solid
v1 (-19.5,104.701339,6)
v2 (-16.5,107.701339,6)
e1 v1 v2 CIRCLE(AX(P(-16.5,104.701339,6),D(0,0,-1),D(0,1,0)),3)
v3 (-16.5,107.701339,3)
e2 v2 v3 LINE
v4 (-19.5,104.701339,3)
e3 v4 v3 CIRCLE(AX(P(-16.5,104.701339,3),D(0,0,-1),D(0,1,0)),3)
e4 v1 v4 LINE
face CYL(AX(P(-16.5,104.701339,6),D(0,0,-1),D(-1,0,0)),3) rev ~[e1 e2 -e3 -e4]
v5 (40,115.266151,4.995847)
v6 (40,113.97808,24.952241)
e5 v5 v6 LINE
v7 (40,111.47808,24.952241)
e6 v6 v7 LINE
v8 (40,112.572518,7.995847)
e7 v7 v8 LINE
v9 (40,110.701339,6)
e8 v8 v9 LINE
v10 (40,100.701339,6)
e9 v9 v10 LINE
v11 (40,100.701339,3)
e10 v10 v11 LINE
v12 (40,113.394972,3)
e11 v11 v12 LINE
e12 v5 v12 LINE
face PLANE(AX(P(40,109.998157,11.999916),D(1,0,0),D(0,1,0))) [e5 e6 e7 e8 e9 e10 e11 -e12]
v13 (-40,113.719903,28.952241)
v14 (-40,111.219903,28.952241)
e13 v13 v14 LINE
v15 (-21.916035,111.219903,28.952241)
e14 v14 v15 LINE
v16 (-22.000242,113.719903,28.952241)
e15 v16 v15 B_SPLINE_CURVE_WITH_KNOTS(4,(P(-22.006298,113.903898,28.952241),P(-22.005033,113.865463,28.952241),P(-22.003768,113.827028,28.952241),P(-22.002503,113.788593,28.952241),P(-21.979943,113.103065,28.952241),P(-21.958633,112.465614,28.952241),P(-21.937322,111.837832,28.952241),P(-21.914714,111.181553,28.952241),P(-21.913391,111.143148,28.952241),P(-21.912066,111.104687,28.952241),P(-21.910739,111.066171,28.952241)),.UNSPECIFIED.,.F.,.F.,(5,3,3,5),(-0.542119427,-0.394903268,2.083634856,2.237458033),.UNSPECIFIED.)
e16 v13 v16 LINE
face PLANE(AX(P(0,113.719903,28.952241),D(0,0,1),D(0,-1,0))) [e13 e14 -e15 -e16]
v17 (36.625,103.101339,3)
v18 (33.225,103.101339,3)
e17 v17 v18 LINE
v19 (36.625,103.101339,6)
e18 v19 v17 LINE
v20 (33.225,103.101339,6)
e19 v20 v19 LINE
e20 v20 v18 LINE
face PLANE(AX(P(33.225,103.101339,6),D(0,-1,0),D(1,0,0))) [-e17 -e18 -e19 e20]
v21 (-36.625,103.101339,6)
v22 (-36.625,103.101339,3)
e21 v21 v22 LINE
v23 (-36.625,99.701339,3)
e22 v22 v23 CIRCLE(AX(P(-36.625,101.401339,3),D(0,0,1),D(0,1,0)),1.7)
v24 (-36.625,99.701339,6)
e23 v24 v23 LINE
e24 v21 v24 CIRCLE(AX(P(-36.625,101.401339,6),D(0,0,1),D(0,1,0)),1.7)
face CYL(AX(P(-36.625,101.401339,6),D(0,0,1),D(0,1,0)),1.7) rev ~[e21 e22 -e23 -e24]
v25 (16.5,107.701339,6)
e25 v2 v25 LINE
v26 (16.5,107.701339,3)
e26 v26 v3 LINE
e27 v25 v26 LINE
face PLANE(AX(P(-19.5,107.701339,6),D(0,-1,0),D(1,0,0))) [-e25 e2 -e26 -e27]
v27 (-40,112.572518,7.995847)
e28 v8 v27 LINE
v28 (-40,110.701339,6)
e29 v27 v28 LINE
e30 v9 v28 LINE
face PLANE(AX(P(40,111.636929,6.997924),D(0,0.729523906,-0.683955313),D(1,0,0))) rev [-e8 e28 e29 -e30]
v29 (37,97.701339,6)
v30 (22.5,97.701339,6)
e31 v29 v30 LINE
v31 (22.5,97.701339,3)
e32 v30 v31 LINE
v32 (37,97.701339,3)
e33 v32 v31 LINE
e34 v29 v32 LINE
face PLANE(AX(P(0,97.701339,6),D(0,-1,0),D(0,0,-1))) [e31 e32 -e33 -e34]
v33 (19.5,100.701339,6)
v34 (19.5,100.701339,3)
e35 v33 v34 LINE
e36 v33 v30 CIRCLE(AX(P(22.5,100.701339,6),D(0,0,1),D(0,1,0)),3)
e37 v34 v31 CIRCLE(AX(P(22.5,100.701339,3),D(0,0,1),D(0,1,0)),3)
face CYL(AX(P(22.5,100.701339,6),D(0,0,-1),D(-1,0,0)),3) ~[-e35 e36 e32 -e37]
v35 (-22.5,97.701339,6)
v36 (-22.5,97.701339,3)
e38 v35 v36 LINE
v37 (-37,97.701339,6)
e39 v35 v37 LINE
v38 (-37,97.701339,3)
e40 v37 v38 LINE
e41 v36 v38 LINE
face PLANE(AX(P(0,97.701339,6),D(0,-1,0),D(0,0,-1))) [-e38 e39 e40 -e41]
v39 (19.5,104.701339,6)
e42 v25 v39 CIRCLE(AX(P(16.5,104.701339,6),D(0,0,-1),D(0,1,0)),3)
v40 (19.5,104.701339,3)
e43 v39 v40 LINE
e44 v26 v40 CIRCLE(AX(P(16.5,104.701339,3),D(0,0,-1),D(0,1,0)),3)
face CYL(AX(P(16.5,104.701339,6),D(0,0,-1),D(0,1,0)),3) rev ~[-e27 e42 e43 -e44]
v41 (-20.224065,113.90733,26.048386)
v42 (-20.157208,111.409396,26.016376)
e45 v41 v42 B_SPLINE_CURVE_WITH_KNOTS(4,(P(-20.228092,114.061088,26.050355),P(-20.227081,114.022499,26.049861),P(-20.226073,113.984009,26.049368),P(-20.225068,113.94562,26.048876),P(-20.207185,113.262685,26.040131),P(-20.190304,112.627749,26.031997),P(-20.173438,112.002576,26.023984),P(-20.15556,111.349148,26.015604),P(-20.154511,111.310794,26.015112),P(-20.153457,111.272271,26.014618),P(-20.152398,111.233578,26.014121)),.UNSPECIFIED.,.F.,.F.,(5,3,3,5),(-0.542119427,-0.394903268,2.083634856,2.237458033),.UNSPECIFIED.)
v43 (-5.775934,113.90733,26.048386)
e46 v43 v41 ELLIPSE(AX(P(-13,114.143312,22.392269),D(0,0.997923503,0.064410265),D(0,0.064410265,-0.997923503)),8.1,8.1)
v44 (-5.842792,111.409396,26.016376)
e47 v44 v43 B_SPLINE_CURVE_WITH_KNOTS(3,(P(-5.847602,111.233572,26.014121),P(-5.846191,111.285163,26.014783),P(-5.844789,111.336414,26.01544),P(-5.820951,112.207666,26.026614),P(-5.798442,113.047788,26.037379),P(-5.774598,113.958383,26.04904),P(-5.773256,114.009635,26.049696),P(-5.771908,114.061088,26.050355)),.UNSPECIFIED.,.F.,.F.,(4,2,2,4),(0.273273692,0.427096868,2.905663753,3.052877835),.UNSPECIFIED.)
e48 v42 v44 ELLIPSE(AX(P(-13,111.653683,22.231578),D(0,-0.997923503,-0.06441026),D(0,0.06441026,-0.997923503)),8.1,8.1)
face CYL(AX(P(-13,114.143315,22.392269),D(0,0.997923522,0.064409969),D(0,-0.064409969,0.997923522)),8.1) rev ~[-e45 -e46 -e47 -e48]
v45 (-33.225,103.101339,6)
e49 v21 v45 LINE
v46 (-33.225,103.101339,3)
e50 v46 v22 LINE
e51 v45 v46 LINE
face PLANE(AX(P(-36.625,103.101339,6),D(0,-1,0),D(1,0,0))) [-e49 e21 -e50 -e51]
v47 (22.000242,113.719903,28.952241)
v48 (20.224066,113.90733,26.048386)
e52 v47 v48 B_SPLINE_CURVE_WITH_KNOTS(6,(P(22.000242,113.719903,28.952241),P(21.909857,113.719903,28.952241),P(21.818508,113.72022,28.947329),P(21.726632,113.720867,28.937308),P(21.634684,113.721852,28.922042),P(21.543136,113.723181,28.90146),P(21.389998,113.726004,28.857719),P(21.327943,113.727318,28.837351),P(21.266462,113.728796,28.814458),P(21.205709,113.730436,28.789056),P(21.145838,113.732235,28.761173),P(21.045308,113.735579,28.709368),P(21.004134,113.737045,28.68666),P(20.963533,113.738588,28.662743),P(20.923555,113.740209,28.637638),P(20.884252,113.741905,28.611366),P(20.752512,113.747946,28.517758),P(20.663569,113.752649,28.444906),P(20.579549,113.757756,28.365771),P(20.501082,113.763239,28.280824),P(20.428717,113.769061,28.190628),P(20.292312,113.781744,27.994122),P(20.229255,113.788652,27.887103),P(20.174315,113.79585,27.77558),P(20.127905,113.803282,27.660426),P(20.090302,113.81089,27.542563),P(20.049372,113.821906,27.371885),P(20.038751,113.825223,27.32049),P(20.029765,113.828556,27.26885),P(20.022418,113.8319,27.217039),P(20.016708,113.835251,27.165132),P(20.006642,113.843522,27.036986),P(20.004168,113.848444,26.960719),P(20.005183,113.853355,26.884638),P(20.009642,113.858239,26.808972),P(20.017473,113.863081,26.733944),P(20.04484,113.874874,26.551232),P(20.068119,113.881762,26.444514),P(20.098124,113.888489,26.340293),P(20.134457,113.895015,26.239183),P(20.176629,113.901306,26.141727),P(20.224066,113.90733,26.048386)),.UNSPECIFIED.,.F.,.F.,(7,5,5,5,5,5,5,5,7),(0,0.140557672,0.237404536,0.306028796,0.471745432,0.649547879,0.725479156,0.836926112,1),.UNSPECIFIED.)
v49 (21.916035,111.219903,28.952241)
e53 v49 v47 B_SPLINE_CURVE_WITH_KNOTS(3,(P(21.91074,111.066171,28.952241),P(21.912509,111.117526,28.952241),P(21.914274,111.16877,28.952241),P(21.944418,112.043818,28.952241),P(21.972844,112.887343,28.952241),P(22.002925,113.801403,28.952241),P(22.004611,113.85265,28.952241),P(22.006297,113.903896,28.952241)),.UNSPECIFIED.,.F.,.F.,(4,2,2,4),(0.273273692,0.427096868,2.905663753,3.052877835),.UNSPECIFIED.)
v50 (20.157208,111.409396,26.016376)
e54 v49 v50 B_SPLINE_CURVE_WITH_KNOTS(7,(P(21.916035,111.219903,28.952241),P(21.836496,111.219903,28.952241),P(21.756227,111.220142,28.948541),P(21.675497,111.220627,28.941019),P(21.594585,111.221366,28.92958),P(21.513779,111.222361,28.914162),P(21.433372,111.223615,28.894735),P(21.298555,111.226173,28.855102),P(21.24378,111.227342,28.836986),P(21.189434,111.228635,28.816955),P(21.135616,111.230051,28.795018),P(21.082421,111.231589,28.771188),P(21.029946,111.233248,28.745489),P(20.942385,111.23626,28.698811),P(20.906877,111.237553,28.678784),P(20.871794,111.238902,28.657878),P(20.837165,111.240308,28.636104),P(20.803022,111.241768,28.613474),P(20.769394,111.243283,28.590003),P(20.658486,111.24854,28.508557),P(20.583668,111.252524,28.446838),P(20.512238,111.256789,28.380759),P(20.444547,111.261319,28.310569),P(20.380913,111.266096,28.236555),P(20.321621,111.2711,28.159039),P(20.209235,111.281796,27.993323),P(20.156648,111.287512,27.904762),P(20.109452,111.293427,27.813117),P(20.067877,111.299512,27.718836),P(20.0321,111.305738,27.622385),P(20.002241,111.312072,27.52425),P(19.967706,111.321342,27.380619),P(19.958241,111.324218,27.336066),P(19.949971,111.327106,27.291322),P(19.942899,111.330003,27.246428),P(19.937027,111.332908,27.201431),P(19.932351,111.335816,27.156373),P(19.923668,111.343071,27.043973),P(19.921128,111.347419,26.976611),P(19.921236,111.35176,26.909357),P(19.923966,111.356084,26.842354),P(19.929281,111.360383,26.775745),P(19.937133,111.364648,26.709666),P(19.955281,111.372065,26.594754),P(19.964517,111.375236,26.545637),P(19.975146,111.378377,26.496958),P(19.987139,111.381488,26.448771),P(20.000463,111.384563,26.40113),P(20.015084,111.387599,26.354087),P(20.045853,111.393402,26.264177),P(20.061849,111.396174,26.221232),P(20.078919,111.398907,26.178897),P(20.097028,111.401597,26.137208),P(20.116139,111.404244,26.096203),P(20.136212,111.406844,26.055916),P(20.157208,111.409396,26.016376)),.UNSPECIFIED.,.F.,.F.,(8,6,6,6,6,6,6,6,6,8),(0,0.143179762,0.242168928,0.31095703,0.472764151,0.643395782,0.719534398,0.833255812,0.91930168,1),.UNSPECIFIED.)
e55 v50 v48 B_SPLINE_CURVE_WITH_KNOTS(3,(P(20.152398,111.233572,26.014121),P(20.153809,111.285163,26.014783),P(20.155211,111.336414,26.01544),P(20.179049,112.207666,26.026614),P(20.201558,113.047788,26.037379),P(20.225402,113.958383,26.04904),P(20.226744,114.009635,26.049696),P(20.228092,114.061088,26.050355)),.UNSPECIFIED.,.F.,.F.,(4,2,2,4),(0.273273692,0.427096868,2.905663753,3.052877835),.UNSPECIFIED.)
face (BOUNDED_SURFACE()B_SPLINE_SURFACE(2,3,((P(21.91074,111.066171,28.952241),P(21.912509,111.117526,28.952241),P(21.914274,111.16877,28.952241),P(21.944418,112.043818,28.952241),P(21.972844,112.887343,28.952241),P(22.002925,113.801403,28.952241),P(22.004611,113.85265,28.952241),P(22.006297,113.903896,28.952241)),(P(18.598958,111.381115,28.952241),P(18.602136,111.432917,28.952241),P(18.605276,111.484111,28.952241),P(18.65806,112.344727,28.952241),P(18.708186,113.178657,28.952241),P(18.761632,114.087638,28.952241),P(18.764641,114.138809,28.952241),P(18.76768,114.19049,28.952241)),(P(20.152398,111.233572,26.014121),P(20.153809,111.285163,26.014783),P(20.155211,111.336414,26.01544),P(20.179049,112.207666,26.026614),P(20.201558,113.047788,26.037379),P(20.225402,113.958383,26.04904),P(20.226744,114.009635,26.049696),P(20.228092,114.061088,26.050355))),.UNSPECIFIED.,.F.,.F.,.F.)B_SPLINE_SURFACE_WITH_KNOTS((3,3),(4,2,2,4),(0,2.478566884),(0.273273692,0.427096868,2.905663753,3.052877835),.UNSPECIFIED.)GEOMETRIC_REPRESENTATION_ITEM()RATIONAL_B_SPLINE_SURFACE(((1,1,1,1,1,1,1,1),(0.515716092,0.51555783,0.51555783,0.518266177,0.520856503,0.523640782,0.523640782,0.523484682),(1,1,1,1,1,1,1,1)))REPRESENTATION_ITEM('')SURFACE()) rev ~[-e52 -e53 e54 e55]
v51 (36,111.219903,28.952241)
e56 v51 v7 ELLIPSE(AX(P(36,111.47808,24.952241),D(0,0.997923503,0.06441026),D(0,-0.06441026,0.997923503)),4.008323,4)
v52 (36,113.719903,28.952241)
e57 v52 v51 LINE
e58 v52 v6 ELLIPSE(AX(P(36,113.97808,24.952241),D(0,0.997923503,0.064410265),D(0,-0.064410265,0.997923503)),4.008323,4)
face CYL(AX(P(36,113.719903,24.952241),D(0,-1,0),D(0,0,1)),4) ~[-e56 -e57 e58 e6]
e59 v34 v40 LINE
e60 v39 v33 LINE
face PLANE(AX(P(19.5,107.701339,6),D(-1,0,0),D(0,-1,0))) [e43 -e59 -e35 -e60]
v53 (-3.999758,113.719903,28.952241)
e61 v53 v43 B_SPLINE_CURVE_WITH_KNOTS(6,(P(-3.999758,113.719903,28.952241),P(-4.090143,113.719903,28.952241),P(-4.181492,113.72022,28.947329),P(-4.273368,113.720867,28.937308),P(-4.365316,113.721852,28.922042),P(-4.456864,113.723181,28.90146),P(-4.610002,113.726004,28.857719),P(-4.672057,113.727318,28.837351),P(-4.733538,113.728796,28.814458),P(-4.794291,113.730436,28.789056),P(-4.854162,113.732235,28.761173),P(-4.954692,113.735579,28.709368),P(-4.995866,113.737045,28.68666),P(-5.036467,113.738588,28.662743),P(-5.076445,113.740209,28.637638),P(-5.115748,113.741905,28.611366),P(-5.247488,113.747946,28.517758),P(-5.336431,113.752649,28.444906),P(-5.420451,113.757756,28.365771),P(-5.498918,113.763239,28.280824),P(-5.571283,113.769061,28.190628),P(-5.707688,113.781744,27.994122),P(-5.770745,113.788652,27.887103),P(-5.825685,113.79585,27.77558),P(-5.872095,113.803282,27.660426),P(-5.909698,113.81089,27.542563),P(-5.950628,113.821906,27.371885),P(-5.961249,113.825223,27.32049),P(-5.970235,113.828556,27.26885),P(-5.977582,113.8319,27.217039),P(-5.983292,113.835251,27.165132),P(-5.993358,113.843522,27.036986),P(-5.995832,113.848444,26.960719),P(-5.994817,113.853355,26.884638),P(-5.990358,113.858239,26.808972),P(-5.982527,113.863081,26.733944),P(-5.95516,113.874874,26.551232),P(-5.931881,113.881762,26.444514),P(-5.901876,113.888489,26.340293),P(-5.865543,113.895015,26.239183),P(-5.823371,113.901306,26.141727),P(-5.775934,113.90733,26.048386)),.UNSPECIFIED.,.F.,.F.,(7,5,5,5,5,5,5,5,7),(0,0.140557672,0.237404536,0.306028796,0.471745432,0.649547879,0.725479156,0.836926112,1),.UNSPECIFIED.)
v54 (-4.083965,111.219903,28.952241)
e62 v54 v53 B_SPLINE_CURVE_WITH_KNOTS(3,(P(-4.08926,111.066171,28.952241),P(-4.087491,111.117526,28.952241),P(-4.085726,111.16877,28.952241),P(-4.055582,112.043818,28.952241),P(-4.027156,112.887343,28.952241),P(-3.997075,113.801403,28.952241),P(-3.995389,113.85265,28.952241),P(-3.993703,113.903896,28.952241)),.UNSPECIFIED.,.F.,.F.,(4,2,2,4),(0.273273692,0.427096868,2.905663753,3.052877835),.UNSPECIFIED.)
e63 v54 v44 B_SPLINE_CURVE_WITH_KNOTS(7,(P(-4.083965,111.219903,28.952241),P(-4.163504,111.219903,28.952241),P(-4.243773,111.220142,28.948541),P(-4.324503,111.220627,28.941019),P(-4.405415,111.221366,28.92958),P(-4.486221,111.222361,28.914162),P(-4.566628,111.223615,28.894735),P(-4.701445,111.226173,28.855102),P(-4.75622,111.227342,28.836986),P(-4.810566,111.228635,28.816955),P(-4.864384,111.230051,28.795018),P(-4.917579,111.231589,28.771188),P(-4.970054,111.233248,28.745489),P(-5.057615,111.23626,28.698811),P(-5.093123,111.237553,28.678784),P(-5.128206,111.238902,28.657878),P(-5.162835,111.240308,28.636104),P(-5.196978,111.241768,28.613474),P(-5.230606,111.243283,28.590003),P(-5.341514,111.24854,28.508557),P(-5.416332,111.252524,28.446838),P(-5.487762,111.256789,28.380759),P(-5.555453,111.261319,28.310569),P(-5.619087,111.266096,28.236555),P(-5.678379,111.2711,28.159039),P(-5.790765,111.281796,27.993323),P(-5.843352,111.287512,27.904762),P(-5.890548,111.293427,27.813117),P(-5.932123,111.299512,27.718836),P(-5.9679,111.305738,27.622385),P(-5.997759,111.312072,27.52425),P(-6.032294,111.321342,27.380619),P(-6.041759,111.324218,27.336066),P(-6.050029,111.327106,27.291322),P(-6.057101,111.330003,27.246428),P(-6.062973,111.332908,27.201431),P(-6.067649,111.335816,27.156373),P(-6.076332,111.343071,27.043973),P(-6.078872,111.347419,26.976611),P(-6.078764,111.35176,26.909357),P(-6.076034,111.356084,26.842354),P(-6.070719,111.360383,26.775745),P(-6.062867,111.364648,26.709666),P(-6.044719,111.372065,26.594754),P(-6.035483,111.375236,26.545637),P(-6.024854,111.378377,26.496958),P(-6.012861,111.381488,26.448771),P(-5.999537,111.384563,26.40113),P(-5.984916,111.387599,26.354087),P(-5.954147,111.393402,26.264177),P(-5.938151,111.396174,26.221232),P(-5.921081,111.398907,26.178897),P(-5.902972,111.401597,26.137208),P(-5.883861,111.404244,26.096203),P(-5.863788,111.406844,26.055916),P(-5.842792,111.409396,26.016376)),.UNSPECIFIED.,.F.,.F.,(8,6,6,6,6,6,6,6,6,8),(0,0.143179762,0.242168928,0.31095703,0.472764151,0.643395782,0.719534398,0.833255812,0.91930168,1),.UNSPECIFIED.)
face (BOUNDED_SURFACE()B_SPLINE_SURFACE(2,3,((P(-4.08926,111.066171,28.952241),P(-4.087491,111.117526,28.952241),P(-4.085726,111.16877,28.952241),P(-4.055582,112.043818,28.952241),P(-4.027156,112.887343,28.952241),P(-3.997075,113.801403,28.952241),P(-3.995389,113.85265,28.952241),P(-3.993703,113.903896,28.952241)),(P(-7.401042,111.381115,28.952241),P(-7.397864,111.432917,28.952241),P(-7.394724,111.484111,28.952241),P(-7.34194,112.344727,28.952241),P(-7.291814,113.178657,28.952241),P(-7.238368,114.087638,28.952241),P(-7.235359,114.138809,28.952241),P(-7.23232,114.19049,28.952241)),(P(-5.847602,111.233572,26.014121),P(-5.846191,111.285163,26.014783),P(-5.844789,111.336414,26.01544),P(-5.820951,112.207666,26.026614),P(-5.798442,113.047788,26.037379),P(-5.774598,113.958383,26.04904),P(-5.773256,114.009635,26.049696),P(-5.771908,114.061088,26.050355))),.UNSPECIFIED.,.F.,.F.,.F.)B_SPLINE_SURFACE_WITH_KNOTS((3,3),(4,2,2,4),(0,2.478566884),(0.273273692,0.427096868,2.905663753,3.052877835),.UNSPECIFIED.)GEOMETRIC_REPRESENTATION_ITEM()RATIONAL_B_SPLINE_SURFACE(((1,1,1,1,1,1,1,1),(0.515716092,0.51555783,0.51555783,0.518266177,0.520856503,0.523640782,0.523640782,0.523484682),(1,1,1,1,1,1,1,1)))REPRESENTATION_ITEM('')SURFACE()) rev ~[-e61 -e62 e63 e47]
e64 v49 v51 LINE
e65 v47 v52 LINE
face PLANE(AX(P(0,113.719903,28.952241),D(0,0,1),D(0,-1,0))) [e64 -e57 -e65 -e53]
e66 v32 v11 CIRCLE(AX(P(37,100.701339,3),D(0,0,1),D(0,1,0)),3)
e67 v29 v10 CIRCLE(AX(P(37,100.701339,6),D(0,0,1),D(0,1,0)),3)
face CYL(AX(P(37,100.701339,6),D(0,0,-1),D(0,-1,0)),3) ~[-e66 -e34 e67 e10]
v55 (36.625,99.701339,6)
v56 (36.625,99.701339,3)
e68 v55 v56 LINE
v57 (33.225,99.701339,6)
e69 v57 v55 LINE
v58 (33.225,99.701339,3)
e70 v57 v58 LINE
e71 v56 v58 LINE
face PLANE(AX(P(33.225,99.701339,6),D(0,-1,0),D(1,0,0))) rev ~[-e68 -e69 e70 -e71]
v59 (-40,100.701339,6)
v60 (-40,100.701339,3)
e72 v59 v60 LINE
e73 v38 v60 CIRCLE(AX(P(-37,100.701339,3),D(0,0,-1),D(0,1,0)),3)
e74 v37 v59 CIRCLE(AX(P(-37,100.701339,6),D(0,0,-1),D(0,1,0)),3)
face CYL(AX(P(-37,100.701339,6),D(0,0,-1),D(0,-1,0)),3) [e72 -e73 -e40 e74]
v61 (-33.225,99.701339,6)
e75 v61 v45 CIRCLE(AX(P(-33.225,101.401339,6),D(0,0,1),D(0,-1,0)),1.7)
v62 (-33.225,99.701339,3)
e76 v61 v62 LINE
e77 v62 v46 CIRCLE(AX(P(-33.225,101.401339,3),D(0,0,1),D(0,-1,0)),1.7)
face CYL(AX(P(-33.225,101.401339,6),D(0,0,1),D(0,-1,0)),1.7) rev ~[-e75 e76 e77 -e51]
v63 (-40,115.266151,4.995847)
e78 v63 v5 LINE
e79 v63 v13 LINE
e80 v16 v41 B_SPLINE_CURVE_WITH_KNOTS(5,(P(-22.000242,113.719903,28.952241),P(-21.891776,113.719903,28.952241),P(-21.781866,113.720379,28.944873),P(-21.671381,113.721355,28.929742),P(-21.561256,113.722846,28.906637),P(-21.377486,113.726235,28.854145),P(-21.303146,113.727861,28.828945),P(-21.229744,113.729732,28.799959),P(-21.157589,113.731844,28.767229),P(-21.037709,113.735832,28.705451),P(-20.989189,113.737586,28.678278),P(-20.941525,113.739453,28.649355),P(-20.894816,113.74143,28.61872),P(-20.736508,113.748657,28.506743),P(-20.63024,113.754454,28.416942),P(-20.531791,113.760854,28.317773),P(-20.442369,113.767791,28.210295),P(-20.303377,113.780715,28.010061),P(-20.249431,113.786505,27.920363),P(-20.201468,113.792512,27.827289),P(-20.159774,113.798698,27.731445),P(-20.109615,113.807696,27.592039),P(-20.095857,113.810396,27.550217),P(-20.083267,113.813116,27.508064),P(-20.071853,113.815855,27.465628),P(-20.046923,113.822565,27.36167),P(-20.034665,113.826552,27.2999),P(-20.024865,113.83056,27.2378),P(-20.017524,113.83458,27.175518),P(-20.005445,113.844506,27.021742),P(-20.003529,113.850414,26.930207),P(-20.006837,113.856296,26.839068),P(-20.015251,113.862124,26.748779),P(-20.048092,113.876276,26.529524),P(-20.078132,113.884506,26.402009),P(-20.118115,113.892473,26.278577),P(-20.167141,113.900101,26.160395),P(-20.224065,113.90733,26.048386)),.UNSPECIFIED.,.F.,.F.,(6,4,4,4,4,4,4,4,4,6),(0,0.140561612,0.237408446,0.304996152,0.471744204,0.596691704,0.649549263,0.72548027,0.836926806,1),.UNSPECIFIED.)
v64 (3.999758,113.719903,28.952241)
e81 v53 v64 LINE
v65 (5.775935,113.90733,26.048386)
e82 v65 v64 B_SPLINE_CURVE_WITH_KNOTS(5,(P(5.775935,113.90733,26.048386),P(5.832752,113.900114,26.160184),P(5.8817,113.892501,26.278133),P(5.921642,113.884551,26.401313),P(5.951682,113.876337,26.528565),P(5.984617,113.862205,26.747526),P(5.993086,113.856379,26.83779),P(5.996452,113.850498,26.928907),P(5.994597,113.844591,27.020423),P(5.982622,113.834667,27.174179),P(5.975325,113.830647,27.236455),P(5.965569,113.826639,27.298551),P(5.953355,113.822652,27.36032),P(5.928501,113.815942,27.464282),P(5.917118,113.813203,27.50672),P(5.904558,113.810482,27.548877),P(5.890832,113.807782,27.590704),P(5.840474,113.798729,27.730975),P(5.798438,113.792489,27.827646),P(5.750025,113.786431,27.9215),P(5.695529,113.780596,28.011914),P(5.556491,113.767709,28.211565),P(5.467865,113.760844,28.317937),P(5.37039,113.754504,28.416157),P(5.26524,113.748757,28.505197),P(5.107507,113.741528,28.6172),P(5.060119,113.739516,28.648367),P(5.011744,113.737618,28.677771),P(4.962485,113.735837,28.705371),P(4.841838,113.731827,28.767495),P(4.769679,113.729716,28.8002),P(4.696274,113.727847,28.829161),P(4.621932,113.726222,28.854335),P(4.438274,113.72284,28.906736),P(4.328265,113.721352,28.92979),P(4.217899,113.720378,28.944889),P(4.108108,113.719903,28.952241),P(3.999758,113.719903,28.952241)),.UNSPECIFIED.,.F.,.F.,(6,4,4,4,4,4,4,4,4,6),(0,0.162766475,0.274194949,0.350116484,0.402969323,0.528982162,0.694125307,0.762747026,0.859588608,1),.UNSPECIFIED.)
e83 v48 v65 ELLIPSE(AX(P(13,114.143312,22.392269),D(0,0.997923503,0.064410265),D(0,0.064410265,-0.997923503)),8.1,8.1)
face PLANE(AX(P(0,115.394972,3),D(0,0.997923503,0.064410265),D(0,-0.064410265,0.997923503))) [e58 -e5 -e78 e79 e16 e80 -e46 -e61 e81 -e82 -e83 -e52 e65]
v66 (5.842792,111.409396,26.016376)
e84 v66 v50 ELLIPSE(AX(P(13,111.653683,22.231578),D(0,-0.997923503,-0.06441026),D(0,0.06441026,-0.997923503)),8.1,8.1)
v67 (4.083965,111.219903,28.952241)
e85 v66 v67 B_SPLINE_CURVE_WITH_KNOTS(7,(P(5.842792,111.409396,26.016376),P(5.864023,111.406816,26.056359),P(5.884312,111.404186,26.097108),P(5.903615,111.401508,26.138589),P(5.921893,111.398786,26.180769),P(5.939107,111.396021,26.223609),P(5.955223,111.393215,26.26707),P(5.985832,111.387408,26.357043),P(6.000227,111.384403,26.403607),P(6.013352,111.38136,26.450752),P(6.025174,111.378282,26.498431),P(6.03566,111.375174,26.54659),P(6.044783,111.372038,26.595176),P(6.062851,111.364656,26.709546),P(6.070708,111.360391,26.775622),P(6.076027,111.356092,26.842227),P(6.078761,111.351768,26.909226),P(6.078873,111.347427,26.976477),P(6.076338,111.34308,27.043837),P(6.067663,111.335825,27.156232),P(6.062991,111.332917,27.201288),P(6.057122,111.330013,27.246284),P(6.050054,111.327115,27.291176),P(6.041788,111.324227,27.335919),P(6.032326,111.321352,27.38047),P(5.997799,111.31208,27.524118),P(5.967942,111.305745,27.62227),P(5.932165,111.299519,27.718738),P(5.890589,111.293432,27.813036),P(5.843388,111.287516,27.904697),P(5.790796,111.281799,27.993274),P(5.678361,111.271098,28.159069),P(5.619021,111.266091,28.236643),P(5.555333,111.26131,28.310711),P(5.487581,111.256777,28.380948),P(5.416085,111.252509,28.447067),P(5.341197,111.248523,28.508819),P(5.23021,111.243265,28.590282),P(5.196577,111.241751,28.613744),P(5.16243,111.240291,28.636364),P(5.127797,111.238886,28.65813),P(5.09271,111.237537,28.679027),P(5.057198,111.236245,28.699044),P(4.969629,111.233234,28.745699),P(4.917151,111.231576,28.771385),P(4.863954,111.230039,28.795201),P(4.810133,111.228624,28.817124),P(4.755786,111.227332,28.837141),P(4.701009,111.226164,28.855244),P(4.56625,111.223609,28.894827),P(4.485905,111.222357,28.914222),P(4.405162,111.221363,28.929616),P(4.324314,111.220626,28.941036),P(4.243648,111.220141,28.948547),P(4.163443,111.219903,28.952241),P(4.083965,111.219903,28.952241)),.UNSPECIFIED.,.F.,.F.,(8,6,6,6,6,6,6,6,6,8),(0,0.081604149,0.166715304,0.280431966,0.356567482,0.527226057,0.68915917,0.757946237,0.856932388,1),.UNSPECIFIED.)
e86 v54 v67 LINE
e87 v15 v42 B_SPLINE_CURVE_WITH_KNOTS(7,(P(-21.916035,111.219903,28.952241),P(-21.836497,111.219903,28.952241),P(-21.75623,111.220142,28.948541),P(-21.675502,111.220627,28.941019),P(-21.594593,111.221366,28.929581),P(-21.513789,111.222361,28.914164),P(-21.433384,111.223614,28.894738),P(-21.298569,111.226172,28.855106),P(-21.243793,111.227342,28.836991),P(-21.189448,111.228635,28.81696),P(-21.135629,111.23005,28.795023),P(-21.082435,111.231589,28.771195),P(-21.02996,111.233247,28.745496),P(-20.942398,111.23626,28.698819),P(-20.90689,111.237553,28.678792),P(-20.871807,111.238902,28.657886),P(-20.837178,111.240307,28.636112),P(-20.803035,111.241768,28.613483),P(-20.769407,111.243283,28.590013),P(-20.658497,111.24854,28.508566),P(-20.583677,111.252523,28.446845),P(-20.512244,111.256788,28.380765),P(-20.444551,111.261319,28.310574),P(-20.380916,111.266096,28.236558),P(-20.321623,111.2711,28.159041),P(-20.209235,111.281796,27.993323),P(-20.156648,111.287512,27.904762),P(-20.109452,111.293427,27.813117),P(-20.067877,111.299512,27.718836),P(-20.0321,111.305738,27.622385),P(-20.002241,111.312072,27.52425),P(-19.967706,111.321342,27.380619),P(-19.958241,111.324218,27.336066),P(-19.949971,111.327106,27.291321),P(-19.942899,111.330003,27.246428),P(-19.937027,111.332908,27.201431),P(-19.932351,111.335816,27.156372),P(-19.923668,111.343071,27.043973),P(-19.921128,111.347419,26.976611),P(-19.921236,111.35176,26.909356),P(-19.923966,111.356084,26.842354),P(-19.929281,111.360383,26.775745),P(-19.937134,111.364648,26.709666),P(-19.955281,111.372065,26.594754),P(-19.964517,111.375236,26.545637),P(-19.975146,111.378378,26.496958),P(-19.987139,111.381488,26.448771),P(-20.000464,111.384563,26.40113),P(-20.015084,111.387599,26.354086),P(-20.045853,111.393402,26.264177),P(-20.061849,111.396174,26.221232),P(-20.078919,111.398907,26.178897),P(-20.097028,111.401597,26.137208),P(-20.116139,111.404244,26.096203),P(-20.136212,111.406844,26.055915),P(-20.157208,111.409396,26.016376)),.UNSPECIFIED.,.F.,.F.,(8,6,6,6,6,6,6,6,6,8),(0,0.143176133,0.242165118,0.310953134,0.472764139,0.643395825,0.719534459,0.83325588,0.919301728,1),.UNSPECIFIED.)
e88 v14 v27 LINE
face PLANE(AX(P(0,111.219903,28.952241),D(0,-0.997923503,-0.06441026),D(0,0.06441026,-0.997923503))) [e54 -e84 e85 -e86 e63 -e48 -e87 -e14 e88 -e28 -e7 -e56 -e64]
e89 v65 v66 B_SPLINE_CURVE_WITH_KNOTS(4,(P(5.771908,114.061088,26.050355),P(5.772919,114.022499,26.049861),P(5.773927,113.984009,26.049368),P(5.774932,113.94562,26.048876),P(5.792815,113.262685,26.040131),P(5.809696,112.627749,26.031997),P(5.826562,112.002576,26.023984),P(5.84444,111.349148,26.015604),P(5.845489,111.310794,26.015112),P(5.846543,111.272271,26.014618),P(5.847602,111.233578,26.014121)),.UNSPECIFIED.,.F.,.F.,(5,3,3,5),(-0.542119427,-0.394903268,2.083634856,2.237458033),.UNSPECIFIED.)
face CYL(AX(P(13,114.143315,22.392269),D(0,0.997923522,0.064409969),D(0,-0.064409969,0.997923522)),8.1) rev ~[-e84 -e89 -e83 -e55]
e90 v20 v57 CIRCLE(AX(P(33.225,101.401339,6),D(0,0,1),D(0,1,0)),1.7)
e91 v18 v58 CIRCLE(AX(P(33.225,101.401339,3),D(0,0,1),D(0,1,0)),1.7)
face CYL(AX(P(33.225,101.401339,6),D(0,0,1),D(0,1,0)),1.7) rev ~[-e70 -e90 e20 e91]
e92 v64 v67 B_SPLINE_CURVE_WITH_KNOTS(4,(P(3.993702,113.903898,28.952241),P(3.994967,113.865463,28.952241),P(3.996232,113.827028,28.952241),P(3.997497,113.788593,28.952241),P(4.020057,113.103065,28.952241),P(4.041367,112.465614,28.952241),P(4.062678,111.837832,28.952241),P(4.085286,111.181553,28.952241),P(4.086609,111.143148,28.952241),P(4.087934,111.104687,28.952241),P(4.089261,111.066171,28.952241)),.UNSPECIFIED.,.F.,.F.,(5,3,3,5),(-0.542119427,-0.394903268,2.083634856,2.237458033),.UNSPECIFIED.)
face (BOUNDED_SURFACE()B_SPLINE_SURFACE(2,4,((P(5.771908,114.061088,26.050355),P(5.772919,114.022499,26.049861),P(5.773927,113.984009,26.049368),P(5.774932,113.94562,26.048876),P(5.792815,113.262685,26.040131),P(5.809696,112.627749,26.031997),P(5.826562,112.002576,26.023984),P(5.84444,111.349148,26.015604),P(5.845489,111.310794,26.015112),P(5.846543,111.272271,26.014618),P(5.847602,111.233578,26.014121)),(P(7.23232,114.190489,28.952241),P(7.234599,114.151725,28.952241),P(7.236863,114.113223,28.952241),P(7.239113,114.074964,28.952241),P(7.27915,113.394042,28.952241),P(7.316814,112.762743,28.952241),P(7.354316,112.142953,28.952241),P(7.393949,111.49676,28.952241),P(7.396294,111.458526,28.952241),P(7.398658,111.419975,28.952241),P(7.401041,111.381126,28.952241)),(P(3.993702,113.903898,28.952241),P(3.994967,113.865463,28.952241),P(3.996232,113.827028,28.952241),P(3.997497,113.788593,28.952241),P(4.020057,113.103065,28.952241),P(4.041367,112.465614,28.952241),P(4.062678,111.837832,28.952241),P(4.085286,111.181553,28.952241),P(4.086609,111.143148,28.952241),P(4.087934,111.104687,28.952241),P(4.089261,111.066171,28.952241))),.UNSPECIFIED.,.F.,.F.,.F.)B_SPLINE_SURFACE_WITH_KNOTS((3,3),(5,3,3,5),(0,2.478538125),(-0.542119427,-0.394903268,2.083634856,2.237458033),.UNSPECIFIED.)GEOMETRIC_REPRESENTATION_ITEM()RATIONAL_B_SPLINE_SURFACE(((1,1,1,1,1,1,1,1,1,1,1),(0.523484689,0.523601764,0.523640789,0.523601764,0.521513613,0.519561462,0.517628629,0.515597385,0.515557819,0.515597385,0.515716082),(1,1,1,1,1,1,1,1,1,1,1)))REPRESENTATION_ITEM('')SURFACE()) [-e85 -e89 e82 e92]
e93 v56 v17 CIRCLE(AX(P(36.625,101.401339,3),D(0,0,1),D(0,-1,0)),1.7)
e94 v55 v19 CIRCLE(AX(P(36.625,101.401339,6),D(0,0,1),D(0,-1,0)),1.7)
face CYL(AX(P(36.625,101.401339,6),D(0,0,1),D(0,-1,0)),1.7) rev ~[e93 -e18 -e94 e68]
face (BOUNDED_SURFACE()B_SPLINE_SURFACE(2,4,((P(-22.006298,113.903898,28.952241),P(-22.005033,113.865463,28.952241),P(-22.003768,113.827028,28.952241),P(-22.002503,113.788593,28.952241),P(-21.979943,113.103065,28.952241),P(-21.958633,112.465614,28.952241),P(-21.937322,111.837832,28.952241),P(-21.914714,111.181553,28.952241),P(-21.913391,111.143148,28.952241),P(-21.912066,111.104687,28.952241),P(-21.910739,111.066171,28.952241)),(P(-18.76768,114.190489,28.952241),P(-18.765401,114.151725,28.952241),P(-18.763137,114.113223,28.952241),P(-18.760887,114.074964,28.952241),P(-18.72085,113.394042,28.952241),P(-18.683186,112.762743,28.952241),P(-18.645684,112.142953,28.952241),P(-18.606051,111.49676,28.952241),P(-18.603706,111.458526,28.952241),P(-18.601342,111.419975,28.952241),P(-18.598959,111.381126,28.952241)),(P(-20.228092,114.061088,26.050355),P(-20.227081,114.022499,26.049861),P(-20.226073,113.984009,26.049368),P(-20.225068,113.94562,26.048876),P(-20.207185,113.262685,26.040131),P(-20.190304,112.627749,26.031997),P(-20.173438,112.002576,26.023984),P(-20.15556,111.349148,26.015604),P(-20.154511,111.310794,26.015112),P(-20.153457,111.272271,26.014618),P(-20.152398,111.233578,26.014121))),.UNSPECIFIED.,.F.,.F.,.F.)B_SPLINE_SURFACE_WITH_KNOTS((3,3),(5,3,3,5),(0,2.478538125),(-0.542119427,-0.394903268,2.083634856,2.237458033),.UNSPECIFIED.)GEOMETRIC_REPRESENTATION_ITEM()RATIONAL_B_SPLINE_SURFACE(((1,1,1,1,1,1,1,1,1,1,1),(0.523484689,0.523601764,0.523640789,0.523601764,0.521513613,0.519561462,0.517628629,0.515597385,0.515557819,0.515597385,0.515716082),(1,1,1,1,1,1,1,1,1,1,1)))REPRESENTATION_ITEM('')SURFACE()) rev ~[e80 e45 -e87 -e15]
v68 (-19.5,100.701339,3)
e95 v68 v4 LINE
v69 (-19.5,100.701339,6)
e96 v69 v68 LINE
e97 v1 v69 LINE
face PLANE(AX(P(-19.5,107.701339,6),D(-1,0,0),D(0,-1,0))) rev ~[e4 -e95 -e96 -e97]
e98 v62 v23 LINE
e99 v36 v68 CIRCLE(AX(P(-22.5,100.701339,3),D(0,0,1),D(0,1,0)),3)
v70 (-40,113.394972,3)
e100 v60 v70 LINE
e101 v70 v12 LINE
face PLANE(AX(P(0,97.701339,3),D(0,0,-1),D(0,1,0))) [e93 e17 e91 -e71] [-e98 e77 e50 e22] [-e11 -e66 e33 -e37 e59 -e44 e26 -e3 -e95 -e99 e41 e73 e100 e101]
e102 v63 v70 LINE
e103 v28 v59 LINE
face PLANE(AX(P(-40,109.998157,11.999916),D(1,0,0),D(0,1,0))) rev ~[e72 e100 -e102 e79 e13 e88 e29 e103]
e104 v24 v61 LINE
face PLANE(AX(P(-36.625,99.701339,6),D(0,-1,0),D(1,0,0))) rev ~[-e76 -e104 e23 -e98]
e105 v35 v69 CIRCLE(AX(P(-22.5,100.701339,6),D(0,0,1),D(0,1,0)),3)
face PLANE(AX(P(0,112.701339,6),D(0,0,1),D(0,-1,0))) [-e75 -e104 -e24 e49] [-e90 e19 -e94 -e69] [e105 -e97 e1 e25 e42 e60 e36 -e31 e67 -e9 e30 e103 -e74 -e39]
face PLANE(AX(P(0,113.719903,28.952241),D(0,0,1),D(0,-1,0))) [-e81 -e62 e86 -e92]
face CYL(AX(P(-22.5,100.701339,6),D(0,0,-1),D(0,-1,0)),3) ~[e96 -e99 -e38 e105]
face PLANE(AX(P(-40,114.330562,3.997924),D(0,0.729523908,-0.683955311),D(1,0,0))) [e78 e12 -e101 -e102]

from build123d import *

# Parameters (mm, degrees)
PAD006_DEPTH    = 40
SKETCH009_W     = 14
SKETCH009_H     = 39
POCKET002_DEPTH = 5
SKETCH010_R     = 8.1
POCKET003_DEPTH = 5
FILLET001_R     = 3
FILLET002_R     = 2
FILLET003_R     = 4
CHAMFER_SIZE    = 2
CHAMFER001_SIZE = 2


with BuildPart() as part:
    # Sketch008 → Pad006 (new body, symmetric)
    with BuildSketch(Plane.YZ):
        Polygon((97.701339, 0), (115.394972, 0), (113.719903, 25.952241), (111.219903, 25.952241), (112.701339, 3), (97.701339, 3), align=None)
    extrude(amount=PAD006_DEPTH, both=True)

    # Sketch009 (on Face5 of Pad006) → Pocket002 (cut)
    with BuildSketch(Plane(origin=(0, 0, 3), x_dir=(0, -1, 0), z_dir=(0, 0, 1))):
        with Locations((-100.701339, 0)):
            Rectangle(SKETCH009_W, SKETCH009_H)
        with BuildLine():
            ThreePointArc((-103.101339, -36.625), (-101.401339, -38.325), (-99.701339, -36.625))
            Line((-99.701339, -36.625), (-99.701339, -33.225))
            ThreePointArc((-99.701339, -33.225), (-101.401339, -31.525), (-103.101339, -33.225))
            Line((-103.101339, -36.625), (-103.101339, -33.225))
        make_face()
        with BuildLine():
            ThreePointArc((-103.101339, 33.225), (-101.401339, 31.525), (-99.701339, 33.225))
            Line((-99.701339, 33.225), (-99.701339, 36.625))
            ThreePointArc((-99.701339, 36.625), (-101.401339, 38.325), (-103.101339, 36.625))
            Line((-103.101339, 33.225), (-103.101339, 36.625))
        make_face()
    extrude(amount=-POCKET002_DEPTH, mode=Mode.SUBTRACT)

    # Sketch010 (on Face3 of Pocket002) → Pocket003 (cut)
    with BuildSketch(Plane(origin=(0, 114.916235, 7.417187), x_dir=(0, -0.06441, 0.997924), z_dir=(0, 0.997924, 0.06441))):
        with Locations((12, -13)):
            Circle(SKETCH010_R)
        with Locations((12, 13)):
            Circle(SKETCH010_R)
    extrude(amount=-POCKET003_DEPTH, mode=Mode.SUBTRACT)

    # Fillet001
    fillet001_edges = [part.edges().sort_by_distance(p)[0] for p in [
        (-19.5, 97.701339, 1.5),
        (-40, 97.701339, 1.5),
        (19.5, 107.701339, 1.5),
        (19.5, 97.701339, 1.5),
        (40, 97.701339, 1.5),
        (-19.5, 107.701339, 1.5),
    ]]
    fillet(fillet001_edges, radius=FILLET001_R)

    # Fillet002
    fillet002_edges = [part.edges().sort_by_distance(p)[0] for p in [
        (-17.618693, 112.469704, 25.952241),
        (-8.381307, 112.469704, 25.952241),
        (8.381307, 112.469704, 25.952241),
        (17.618693, 112.469704, 25.952241),
    ]]
    fillet(fillet002_edges, radius=FILLET002_R)

    # Fillet003
    fillet003_edges = [part.edges().sort_by_distance(p)[0] for p in [
        (40, 112.469903, 25.952241),
    ]]
    fillet(fillet003_edges, radius=FILLET003_R)

    # Chamfer
    chamfer_edges = [part.edges().sort_by_distance(p)[0] for p in [
        (0, 112.701339, 3),
    ]]
    chamfer(chamfer_edges, length=CHAMFER_SIZE)

    # Chamfer001
    chamfer001_edges = [part.edges().sort_by_distance(p)[0] for p in [
        (0, 115.394972, 0),
    ]]
    chamfer(chamfer001_edges, length=CHAMFER001_SIZE)


with BuildPart() as part_1:
    # Body005 placement: moved
    add(part.part.moved(Location((0, 0, 3))))


solid = part_1.part
